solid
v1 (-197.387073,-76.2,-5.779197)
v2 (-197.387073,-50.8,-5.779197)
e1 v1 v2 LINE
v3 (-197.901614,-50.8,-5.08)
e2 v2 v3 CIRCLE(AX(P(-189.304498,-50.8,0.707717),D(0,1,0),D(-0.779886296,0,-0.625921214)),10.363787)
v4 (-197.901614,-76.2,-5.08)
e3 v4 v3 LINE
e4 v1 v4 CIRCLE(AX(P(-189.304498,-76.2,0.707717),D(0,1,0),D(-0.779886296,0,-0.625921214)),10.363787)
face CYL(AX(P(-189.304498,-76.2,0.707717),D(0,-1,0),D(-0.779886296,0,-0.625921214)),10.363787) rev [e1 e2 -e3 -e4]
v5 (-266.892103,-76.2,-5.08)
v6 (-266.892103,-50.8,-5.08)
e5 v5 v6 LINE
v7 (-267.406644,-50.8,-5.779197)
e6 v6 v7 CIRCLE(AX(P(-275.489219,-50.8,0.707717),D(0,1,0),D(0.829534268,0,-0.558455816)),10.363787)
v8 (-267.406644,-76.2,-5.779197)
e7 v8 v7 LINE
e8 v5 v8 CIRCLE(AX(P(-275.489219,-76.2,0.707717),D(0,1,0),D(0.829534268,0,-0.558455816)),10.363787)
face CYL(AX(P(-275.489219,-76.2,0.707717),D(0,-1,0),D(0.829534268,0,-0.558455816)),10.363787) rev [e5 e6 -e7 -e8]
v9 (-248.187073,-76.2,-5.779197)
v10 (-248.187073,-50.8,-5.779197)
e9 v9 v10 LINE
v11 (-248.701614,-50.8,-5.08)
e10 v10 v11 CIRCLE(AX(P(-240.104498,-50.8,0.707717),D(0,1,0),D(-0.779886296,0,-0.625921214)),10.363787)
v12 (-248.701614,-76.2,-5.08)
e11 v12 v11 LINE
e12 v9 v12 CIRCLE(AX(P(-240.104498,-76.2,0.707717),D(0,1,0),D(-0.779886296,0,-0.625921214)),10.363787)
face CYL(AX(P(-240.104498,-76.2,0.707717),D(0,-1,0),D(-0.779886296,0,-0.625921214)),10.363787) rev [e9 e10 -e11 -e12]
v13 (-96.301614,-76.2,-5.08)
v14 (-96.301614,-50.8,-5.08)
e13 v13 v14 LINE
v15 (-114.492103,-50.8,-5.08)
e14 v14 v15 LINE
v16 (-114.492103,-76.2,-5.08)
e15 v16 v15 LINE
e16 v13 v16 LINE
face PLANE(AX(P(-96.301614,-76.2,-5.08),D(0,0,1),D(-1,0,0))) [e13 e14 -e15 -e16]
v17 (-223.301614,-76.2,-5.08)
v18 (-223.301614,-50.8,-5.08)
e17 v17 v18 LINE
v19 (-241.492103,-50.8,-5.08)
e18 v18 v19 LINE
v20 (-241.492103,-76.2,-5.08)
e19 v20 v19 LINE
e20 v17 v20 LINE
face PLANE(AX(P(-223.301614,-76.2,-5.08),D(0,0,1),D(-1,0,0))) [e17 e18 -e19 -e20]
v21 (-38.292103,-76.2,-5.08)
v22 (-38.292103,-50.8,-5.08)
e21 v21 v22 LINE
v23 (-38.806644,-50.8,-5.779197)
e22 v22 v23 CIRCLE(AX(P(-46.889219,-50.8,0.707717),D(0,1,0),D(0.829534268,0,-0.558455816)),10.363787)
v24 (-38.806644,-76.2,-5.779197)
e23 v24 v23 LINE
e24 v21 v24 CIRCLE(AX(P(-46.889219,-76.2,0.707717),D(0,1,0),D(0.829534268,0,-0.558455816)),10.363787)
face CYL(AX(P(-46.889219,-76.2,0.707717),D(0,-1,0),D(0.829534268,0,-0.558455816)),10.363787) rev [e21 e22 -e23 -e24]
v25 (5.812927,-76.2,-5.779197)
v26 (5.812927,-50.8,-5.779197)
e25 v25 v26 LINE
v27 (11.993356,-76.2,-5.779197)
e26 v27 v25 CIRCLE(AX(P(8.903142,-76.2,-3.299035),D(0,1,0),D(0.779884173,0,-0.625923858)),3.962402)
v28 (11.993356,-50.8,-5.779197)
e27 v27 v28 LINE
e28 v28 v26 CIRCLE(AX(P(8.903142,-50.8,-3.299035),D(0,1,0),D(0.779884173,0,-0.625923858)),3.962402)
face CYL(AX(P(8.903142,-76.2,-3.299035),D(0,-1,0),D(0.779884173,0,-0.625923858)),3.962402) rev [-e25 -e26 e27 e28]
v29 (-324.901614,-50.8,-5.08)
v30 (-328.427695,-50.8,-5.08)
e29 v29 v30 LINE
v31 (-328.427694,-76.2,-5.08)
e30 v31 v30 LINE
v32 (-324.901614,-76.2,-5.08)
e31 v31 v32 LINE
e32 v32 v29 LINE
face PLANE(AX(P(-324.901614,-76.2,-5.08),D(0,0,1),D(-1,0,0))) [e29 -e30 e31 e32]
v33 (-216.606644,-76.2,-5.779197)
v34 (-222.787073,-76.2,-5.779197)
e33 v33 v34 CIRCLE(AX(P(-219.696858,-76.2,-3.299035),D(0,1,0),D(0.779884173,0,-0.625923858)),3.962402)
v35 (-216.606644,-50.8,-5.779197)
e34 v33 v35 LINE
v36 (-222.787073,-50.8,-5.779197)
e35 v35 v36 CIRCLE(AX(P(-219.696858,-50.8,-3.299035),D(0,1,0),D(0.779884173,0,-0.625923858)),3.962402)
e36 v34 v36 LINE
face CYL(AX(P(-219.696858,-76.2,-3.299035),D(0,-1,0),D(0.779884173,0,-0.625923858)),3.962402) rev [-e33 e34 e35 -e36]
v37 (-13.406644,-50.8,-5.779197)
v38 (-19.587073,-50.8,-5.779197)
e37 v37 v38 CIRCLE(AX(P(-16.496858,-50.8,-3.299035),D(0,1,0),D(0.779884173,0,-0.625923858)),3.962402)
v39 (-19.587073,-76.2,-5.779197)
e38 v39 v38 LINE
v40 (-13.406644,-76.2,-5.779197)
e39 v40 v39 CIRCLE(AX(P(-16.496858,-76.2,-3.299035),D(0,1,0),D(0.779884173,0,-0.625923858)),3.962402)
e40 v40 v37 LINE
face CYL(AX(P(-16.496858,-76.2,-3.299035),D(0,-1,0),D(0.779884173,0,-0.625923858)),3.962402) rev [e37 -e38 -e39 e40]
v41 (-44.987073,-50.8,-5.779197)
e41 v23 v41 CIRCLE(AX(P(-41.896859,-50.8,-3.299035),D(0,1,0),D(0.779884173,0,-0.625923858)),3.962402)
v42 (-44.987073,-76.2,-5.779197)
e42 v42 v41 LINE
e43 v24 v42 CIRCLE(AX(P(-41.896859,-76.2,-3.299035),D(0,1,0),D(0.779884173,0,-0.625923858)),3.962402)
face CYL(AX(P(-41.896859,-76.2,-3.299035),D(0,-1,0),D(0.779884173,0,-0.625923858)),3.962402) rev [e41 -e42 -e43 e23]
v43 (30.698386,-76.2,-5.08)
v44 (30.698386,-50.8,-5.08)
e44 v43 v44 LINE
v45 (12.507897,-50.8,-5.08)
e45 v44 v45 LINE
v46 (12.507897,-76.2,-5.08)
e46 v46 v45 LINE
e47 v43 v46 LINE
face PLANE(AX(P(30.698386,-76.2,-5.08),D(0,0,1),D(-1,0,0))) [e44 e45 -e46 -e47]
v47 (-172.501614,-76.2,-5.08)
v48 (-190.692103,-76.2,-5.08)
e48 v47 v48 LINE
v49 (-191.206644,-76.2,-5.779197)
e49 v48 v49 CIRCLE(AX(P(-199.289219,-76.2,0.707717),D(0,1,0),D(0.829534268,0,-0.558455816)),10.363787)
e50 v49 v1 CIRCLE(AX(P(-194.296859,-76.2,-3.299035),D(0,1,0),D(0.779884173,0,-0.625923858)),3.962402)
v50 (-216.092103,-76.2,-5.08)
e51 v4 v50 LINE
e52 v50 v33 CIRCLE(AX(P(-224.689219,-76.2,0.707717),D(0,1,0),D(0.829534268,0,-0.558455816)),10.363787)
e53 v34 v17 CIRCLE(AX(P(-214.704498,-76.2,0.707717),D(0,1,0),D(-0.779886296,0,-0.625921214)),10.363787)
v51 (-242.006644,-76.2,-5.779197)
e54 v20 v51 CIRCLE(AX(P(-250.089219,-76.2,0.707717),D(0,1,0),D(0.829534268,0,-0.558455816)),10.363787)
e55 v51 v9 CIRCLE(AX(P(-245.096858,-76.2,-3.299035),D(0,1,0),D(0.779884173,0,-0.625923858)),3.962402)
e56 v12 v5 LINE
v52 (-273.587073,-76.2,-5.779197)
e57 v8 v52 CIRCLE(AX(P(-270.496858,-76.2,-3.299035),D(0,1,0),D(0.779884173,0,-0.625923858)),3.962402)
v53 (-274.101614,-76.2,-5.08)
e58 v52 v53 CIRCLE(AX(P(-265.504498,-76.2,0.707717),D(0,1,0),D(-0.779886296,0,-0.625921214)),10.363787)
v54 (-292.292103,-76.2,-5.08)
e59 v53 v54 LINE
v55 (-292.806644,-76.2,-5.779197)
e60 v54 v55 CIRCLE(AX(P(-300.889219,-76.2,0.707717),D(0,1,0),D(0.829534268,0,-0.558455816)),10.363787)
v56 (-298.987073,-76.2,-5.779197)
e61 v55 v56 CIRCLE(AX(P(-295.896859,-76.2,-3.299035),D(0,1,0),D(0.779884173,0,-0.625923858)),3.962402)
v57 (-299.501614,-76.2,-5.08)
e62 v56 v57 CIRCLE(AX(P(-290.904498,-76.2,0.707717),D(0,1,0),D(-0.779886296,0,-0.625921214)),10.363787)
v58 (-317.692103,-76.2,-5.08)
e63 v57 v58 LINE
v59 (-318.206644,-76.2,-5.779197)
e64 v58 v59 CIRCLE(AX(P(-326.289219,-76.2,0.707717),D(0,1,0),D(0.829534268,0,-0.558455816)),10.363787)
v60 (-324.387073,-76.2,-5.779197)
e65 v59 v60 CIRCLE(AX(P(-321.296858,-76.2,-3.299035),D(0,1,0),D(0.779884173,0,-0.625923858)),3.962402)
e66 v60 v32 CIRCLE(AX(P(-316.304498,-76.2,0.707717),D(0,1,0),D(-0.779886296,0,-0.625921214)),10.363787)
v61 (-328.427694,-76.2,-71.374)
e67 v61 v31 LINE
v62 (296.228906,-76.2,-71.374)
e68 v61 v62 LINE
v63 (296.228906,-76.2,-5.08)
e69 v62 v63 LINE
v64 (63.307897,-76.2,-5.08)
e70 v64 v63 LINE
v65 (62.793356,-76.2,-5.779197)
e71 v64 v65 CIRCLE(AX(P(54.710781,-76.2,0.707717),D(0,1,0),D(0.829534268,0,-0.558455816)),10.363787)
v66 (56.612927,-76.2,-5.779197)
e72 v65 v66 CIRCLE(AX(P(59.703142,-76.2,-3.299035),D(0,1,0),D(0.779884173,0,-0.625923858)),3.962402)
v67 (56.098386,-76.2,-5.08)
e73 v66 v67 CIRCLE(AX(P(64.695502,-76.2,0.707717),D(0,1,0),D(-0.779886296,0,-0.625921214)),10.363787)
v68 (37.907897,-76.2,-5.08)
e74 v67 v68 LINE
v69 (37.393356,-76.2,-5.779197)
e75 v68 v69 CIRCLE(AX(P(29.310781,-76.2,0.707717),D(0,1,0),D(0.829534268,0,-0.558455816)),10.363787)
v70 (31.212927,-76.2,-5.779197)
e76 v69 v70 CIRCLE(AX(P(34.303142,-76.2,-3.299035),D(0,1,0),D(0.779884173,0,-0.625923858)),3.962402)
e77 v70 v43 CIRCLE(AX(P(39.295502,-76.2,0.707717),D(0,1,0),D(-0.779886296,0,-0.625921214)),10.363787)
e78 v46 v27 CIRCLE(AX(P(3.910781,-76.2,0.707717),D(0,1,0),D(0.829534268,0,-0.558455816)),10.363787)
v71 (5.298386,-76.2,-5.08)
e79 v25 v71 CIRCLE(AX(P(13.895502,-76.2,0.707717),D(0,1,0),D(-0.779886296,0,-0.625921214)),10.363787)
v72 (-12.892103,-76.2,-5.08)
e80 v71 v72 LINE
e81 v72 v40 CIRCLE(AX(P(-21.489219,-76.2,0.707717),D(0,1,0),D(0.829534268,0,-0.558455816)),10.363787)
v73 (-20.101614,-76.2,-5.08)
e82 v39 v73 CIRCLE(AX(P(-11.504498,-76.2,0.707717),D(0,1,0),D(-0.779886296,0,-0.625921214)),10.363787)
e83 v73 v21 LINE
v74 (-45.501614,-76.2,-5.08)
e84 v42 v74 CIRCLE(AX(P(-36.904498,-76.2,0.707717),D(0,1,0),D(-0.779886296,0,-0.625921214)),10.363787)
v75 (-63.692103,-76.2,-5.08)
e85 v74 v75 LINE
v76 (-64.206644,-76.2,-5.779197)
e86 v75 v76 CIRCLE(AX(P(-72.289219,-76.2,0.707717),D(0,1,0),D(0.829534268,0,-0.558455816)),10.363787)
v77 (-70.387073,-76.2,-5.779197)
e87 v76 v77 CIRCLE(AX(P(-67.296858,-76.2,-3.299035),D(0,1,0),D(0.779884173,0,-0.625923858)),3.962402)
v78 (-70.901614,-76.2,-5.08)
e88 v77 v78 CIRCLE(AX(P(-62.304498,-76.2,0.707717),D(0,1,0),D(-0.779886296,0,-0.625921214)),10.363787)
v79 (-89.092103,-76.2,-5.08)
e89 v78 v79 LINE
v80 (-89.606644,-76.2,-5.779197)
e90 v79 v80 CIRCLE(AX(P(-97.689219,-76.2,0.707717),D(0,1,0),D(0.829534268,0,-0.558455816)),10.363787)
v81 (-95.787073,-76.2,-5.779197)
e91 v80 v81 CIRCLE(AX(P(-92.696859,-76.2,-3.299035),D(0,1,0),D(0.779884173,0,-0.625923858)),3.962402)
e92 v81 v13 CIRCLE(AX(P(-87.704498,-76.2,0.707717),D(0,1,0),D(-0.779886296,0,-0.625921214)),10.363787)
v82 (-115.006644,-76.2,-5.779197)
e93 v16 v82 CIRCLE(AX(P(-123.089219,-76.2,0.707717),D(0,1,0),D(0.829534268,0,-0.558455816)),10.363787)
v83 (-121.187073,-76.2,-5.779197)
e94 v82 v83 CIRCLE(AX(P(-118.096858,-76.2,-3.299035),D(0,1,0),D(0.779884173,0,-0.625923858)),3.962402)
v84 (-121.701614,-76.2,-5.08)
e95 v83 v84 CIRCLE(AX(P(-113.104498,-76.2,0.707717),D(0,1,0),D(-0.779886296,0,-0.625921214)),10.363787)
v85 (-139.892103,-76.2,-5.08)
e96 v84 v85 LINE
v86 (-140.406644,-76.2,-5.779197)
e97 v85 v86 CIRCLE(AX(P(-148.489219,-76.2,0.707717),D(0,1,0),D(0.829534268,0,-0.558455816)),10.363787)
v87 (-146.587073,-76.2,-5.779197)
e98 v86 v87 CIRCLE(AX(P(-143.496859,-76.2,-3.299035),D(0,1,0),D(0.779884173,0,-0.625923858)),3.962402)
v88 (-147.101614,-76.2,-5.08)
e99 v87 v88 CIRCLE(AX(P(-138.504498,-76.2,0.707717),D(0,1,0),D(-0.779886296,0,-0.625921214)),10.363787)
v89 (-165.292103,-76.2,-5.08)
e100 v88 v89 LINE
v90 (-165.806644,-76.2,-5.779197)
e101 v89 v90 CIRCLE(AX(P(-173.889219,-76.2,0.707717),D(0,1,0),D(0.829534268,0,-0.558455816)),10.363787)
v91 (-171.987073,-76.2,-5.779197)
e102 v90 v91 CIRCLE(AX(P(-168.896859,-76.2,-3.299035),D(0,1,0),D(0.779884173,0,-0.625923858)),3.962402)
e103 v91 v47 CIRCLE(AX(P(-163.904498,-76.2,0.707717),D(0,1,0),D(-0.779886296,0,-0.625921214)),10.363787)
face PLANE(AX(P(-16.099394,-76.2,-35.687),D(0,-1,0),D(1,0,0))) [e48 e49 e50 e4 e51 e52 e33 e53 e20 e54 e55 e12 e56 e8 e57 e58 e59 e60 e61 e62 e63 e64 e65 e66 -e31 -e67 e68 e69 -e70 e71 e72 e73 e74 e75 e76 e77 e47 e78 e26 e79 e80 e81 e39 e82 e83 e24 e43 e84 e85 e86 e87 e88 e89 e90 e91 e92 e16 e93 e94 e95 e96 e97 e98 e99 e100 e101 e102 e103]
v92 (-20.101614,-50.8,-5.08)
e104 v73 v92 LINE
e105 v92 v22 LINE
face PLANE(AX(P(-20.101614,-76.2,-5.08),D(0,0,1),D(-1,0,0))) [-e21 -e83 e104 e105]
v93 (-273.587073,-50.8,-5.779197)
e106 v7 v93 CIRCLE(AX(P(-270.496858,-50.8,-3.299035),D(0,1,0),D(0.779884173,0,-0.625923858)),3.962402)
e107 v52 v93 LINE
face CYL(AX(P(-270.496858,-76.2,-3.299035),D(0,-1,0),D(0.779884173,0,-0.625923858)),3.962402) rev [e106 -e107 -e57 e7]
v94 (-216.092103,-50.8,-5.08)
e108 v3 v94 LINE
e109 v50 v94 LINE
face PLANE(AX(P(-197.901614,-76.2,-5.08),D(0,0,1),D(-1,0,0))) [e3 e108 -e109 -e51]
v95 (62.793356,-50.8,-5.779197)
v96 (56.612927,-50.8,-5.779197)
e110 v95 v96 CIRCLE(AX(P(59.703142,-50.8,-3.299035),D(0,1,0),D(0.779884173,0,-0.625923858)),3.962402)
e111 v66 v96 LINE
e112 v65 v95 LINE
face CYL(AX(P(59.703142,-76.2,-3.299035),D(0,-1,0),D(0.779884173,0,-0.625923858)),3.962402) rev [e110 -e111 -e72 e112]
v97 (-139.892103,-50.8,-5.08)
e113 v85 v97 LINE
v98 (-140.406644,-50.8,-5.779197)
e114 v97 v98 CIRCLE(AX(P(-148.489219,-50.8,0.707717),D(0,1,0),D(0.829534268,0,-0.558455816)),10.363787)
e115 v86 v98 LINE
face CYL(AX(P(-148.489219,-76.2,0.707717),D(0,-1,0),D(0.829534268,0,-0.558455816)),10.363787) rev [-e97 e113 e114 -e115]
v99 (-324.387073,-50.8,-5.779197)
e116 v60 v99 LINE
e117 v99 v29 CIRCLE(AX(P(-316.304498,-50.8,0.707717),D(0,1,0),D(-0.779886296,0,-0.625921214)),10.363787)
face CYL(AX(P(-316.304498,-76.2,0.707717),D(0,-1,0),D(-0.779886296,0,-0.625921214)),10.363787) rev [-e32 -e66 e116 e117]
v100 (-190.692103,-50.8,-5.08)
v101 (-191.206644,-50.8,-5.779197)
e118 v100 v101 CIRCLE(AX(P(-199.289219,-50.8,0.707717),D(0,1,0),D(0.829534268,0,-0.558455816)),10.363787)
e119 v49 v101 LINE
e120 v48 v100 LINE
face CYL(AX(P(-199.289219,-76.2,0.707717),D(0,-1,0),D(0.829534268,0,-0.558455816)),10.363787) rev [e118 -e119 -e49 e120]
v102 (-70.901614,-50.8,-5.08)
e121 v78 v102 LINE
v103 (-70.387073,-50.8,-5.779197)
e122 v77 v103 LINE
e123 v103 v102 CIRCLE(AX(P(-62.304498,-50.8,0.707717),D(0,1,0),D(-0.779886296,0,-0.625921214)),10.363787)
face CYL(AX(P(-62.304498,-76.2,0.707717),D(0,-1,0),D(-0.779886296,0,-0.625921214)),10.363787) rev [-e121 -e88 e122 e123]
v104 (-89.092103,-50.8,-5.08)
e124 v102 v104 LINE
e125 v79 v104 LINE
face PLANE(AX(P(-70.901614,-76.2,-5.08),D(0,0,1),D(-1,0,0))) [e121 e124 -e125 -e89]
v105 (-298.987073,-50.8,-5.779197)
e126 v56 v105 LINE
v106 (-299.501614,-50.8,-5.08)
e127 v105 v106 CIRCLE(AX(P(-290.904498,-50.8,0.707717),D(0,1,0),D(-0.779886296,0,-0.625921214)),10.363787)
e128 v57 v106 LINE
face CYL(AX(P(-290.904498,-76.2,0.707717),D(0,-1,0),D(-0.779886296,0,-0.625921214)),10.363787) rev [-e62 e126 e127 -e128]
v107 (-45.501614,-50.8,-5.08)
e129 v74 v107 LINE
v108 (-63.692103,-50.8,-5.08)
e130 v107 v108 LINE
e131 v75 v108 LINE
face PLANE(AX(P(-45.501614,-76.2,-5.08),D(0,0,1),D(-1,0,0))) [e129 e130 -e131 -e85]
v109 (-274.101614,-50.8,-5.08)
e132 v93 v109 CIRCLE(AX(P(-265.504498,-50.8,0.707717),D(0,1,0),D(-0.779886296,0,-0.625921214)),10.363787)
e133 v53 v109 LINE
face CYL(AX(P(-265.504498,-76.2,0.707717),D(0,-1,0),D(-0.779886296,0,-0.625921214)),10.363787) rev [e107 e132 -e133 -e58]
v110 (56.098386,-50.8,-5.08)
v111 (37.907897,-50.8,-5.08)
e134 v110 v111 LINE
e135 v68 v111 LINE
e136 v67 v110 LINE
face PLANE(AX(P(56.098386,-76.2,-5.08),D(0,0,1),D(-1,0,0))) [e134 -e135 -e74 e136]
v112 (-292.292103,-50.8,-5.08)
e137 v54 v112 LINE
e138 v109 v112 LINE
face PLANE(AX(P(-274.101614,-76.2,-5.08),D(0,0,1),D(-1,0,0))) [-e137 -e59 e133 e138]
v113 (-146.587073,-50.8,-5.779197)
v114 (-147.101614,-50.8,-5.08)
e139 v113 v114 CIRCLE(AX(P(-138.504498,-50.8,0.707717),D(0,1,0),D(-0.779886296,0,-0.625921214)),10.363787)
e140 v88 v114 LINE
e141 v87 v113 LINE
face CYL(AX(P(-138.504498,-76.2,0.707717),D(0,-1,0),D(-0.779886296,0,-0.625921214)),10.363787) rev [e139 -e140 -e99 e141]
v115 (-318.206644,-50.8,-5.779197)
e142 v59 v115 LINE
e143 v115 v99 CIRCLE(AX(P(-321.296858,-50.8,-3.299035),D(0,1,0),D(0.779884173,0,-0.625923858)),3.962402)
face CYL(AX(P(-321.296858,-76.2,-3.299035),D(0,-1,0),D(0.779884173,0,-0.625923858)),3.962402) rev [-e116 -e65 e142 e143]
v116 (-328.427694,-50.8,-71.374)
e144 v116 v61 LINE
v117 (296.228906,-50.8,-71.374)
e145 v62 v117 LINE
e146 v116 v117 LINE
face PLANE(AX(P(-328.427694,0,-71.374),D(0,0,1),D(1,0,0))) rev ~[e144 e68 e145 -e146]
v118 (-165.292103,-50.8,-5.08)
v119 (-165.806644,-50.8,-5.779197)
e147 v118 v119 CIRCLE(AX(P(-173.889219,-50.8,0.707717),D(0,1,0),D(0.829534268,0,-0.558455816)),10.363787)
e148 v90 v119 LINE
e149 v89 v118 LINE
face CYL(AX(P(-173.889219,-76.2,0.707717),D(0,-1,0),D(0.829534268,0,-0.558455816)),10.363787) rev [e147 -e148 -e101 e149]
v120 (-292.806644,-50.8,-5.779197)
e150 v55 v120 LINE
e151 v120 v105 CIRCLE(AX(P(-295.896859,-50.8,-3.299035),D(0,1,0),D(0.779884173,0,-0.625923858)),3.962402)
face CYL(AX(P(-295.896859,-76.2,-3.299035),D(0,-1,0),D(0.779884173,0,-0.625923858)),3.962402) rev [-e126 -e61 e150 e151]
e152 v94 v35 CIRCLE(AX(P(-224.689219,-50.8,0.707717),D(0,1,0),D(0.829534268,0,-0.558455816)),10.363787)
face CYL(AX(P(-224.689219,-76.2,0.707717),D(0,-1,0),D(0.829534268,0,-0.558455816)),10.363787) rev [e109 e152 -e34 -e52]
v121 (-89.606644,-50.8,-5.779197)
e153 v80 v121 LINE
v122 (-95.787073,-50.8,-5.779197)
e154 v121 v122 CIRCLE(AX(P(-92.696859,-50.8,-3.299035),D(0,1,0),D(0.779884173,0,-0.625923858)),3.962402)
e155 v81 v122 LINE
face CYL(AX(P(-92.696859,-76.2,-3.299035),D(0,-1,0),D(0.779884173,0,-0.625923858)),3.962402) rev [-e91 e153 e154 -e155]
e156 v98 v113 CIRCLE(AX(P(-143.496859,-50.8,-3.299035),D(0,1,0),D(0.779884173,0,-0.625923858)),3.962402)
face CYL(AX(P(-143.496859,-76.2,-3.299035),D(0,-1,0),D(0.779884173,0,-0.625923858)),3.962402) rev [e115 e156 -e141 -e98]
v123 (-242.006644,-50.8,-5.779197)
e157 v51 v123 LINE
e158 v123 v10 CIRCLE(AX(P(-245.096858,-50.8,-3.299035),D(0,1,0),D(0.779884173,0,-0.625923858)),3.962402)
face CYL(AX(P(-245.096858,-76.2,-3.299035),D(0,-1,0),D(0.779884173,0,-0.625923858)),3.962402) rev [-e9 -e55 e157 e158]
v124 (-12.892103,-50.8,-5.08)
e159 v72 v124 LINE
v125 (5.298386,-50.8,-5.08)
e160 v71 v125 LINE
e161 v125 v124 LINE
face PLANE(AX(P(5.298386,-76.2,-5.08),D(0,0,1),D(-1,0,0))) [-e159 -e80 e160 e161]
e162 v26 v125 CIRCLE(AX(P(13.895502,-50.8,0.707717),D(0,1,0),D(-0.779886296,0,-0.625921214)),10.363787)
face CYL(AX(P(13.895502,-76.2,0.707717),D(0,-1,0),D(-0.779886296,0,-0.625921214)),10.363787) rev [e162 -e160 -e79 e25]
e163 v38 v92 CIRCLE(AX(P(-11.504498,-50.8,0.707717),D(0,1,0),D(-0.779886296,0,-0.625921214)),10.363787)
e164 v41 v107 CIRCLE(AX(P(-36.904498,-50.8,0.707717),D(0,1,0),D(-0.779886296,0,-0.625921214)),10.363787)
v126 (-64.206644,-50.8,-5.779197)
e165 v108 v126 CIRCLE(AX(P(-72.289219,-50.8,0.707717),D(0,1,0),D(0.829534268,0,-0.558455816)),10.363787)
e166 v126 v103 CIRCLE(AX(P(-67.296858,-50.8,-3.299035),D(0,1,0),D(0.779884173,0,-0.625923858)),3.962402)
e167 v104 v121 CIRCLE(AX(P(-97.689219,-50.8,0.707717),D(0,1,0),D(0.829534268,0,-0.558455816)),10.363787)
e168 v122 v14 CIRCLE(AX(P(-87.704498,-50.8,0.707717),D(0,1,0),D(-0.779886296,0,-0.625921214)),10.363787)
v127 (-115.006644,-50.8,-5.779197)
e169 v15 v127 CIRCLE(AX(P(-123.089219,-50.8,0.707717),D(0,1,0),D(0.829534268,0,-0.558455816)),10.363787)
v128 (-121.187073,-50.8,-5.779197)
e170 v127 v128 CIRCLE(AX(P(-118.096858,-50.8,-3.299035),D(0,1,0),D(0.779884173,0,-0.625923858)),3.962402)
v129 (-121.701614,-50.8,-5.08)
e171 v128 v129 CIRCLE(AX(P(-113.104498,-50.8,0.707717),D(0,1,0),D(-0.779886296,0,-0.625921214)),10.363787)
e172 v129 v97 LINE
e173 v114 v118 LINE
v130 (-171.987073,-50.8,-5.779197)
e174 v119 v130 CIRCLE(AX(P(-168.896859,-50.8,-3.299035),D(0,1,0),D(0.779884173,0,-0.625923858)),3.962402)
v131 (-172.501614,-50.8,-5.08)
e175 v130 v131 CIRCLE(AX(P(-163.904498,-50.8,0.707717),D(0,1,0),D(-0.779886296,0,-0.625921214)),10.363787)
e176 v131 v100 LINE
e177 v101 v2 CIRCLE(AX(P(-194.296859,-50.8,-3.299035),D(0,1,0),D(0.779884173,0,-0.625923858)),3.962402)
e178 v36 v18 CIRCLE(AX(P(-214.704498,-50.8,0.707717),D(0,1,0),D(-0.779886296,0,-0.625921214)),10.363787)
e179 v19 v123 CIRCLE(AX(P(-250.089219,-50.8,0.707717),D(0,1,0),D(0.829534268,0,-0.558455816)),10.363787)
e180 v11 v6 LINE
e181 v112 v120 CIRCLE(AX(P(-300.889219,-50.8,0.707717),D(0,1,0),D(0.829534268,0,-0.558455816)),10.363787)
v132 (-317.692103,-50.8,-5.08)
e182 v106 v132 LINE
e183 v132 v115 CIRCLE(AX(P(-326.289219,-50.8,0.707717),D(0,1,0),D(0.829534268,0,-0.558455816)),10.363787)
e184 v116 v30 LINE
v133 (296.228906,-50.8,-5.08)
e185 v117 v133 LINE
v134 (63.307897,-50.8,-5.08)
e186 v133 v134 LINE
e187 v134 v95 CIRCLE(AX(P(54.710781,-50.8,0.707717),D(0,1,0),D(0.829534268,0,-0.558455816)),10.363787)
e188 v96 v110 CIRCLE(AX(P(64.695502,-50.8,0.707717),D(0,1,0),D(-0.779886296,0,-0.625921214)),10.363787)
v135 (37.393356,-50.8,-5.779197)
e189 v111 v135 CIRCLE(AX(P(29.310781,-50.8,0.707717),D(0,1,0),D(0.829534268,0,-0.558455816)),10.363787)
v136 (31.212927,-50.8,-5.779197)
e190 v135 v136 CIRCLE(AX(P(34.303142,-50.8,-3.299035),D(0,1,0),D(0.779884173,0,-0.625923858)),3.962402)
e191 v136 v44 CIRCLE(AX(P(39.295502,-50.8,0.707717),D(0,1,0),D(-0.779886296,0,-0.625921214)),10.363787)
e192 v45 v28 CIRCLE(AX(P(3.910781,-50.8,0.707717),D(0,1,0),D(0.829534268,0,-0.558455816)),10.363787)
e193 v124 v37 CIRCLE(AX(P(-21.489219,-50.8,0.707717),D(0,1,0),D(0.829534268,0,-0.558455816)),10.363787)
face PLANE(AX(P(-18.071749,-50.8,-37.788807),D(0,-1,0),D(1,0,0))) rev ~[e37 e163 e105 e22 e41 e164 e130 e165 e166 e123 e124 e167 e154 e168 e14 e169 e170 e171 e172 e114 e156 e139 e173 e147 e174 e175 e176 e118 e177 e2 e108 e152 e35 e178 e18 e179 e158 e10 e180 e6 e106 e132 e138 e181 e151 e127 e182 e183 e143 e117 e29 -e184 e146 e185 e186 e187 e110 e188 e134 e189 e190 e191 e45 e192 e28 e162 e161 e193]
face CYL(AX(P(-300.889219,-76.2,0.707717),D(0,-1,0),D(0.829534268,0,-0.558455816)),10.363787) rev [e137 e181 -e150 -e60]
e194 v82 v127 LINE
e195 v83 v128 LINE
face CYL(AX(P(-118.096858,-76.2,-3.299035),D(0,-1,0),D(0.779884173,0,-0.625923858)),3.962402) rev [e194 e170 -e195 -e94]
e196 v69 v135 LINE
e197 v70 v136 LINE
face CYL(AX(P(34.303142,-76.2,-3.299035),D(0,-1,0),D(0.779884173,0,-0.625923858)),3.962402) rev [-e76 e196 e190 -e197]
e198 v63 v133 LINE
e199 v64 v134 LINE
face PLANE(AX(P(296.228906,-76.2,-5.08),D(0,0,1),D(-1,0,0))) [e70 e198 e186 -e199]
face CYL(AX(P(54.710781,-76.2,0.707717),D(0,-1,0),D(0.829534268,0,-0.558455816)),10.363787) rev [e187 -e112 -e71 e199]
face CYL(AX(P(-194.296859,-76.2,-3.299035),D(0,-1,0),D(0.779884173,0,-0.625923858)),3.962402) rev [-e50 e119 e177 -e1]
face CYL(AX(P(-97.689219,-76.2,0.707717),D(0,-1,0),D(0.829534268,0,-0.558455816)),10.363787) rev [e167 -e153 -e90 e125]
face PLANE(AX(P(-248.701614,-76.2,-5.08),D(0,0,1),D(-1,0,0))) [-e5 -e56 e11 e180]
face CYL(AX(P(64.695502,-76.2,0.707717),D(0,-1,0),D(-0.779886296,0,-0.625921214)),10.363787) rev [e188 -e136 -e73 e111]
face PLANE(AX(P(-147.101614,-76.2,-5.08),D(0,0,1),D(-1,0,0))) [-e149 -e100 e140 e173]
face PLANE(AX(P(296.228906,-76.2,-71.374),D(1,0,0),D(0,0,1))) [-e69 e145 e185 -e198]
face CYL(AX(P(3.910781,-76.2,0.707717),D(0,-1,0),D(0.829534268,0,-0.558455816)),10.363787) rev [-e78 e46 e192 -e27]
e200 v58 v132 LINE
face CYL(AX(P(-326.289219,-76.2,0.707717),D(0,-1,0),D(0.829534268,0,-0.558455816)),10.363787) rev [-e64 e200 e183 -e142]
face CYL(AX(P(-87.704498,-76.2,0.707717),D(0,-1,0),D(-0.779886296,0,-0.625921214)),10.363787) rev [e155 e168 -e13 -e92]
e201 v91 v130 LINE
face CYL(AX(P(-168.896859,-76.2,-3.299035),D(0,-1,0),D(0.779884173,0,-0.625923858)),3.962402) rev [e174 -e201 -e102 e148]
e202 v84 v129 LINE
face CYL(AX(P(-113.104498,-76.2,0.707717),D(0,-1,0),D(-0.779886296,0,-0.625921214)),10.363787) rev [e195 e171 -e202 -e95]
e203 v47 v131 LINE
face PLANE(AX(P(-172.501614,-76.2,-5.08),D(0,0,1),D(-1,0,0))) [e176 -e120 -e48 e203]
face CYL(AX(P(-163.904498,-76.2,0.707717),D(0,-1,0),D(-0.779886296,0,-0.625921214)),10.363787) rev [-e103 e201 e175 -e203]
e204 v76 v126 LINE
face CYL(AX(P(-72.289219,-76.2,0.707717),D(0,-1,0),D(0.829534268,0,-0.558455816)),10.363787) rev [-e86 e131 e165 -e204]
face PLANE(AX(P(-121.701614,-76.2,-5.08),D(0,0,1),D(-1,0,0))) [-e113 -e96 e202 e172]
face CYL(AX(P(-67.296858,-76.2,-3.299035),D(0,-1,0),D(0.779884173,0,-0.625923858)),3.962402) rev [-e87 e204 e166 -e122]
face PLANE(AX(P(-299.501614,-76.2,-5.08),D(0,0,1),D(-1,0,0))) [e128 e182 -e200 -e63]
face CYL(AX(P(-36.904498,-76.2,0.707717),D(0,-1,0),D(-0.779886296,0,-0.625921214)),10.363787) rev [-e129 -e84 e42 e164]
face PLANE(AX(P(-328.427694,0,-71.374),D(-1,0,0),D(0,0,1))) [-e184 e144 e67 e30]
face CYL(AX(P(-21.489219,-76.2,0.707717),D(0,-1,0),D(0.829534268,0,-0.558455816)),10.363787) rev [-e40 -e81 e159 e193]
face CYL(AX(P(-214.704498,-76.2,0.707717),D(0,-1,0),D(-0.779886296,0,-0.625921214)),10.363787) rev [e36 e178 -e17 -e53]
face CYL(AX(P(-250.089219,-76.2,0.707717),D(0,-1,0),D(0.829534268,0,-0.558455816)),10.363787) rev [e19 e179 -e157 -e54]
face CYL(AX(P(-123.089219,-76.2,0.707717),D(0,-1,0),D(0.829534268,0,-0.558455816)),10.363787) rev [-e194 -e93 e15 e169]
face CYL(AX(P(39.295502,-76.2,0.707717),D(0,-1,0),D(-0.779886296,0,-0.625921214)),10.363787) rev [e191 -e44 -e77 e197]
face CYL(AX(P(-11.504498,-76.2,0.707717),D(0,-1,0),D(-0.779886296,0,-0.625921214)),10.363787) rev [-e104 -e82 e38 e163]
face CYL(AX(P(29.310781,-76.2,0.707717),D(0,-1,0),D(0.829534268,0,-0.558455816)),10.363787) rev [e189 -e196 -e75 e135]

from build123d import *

# Parameters (mm, degrees)
F0_W     = 624.656601
F0_H     = 71.374
F1_DEPTH = 76.2
F2_SIZE  = 5.08
F4_DEPTH = 25.4


with BuildPart() as f1:
    # F0 (on Front) → F1 (new body)
    with BuildSketch(Plane.XZ):
        with Locations((-16.099394, -35.687)):
            Rectangle(F0_W, F0_H)
    extrude(amount=F1_DEPTH)

    # F2
    f2_edges = [f1.edges().sort_by_distance(p)[0] for p in [
        (-16.099394, -76.2, 0),
        (-16.099394, 0, 0),
    ]]
    chamfer(f2_edges, length=F2_SIZE)

    # F3 (on face) → F4 (intersect)
    with BuildSketch(Plane.XZ.offset(76.2)):
        with BuildLine():
            ThreePointArc((-324.387073, -5.779197), (-324.651668, -5.434988), (-324.901614, -5.08))
            Line((-324.901614, -5.08), (-328.427695, -5.08))
            Line((-328.427695, -5.08), (-328.427695, -71.374))
            Line((-328.427695, -71.374), (296.228906, -71.374))
            Line((296.228906, -71.374), (296.228906, -5.08))
            Line((296.228906, -5.08), (63.307897, -5.08))
            ThreePointArc((63.307897, -5.08), (63.057951, -5.434988), (62.793356, -5.779197))
            ThreePointArc((62.793356, -5.779197), (59.703141, -7.261437), (56.612927, -5.779197))
            ThreePointArc((56.612927, -5.779197), (56.348332, -5.434988), (56.098386, -5.08))
            Line((56.098386, -5.08), (37.907897, -5.08))
            ThreePointArc((37.907897, -5.08), (37.657951, -5.434988), (37.393356, -5.779197))
            ThreePointArc((37.393356, -5.779197), (34.303141, -7.261437), (31.212927, -5.779197))
            ThreePointArc((31.212927, -5.779197), (30.948332, -5.434988), (30.698386, -5.08))
            Line((30.698386, -5.08), (12.507897, -5.08))
            ThreePointArc((12.507897, -5.08), (12.257951, -5.434988), (11.993356, -5.779197))
            ThreePointArc((11.993356, -5.779197), (8.903141, -7.261437), (5.812927, -5.779197))
            ThreePointArc((5.812927, -5.779197), (5.548332, -5.434988), (5.298386, -5.08))
            Line((5.298386, -5.08), (-12.892103, -5.08))
            ThreePointArc((-12.892103, -5.08), (-13.142049, -5.434988), (-13.406644, -5.779197))
            ThreePointArc((-13.406644, -5.779197), (-16.496859, -7.261437), (-19.587073, -5.779197))
            ThreePointArc((-19.587073, -5.779197), (-19.851668, -5.434988), (-20.101614, -5.08))
            Line((-20.101614, -5.08), (-38.292103, -5.08))
            ThreePointArc((-38.292103, -5.08), (-38.542049, -5.434988), (-38.806644, -5.779197))
            ThreePointArc((-38.806644, -5.779197), (-41.896859, -7.261437), (-44.987073, -5.779197))
            ThreePointArc((-44.987073, -5.779197), (-45.251668, -5.434988), (-45.501614, -5.08))
            Line((-45.501614, -5.08), (-63.692103, -5.08))
            ThreePointArc((-63.692103, -5.08), (-63.942049, -5.434988), (-64.206644, -5.779197))
            ThreePointArc((-64.206644, -5.779197), (-67.296859, -7.261437), (-70.387073, -5.779197))
            ThreePointArc((-70.387073, -5.779197), (-70.651668, -5.434988), (-70.901614, -5.08))
            Line((-70.901614, -5.08), (-89.092103, -5.08))
            ThreePointArc((-89.092103, -5.08), (-89.342049, -5.434988), (-89.606644, -5.779197))
            ThreePointArc((-89.606644, -5.779197), (-92.696859, -7.261437), (-95.787073, -5.779197))
            ThreePointArc((-95.787073, -5.779197), (-96.051668, -5.434988), (-96.301614, -5.08))
            Line((-96.301614, -5.08), (-114.492103, -5.08))
            ThreePointArc((-114.492103, -5.08), (-114.742049, -5.434988), (-115.006644, -5.779197))
            ThreePointArc((-115.006644, -5.779197), (-118.096859, -7.261437), (-121.187073, -5.779197))
            ThreePointArc((-121.187073, -5.779197), (-121.451668, -5.434988), (-121.701614, -5.08))
            Line((-121.701614, -5.08), (-139.892103, -5.08))
            ThreePointArc((-139.892103, -5.08), (-140.142049, -5.434988), (-140.406644, -5.779197))
            ThreePointArc((-140.406644, -5.779197), (-143.496859, -7.261437), (-146.587073, -5.779197))
            ThreePointArc((-146.587073, -5.779197), (-146.851668, -5.434988), (-147.101614, -5.08))
            Line((-147.101614, -5.08), (-165.292103, -5.08))
            ThreePointArc((-165.292103, -5.08), (-165.542049, -5.434988), (-165.806644, -5.779197))
            ThreePointArc((-165.806644, -5.779197), (-168.896859, -7.261437), (-171.987073, -5.779197))
            ThreePointArc((-171.987073, -5.779197), (-172.251668, -5.434988), (-172.501614, -5.08))
            Line((-172.501614, -5.08), (-190.692103, -5.08))
            ThreePointArc((-190.692103, -5.08), (-190.942049, -5.434988), (-191.206644, -5.779197))
            ThreePointArc((-191.206644, -5.779197), (-194.296859, -7.261437), (-197.387073, -5.779197))
            ThreePointArc((-197.387073, -5.779197), (-197.651668, -5.434988), (-197.901614, -5.08))
            Line((-197.901614, -5.08), (-216.092103, -5.08))
            ThreePointArc((-216.092103, -5.08), (-216.342049, -5.434988), (-216.606644, -5.779197))
            ThreePointArc((-216.606644, -5.779197), (-219.696859, -7.261437), (-222.787073, -5.779197))
            ThreePointArc((-222.787073, -5.779197), (-223.051668, -5.434988), (-223.301614, -5.08))
            Line((-223.301614, -5.08), (-241.492103, -5.08))
            ThreePointArc((-241.492103, -5.08), (-241.742049, -5.434988), (-242.006644, -5.779197))
            ThreePointArc((-242.006644, -5.779197), (-245.096859, -7.261437), (-248.187073, -5.779197))
            ThreePointArc((-248.187073, -5.779197), (-248.451668, -5.434988), (-248.701614, -5.08))
            Line((-248.701614, -5.08), (-266.892103, -5.08))
            ThreePointArc((-266.892103, -5.08), (-267.142049, -5.434988), (-267.406644, -5.779197))
            ThreePointArc((-267.406644, -5.779197), (-270.496859, -7.261437), (-273.587073, -5.779197))
            ThreePointArc((-273.587073, -5.779197), (-273.851668, -5.434988), (-274.101614, -5.08))
            Line((-274.101614, -5.08), (-292.292103, -5.08))
            ThreePointArc((-292.292103, -5.08), (-292.542049, -5.434988), (-292.806644, -5.779197))
            ThreePointArc((-292.806644, -5.779197), (-295.896859, -7.261437), (-298.987073, -5.779197))
            ThreePointArc((-298.987073, -5.779197), (-299.251668, -5.434988), (-299.501614, -5.08))
            Line((-299.501614, -5.08), (-317.692103, -5.08))
            ThreePointArc((-317.692103, -5.08), (-317.942049, -5.434988), (-318.206644, -5.779197))
            ThreePointArc((-318.206644, -5.779197), (-321.296859, -7.261437), (-324.387073, -5.779197))
        make_face()
    extrude(amount=-F4_DEPTH, mode=Mode.INTERSECT)


solid = f1.part
